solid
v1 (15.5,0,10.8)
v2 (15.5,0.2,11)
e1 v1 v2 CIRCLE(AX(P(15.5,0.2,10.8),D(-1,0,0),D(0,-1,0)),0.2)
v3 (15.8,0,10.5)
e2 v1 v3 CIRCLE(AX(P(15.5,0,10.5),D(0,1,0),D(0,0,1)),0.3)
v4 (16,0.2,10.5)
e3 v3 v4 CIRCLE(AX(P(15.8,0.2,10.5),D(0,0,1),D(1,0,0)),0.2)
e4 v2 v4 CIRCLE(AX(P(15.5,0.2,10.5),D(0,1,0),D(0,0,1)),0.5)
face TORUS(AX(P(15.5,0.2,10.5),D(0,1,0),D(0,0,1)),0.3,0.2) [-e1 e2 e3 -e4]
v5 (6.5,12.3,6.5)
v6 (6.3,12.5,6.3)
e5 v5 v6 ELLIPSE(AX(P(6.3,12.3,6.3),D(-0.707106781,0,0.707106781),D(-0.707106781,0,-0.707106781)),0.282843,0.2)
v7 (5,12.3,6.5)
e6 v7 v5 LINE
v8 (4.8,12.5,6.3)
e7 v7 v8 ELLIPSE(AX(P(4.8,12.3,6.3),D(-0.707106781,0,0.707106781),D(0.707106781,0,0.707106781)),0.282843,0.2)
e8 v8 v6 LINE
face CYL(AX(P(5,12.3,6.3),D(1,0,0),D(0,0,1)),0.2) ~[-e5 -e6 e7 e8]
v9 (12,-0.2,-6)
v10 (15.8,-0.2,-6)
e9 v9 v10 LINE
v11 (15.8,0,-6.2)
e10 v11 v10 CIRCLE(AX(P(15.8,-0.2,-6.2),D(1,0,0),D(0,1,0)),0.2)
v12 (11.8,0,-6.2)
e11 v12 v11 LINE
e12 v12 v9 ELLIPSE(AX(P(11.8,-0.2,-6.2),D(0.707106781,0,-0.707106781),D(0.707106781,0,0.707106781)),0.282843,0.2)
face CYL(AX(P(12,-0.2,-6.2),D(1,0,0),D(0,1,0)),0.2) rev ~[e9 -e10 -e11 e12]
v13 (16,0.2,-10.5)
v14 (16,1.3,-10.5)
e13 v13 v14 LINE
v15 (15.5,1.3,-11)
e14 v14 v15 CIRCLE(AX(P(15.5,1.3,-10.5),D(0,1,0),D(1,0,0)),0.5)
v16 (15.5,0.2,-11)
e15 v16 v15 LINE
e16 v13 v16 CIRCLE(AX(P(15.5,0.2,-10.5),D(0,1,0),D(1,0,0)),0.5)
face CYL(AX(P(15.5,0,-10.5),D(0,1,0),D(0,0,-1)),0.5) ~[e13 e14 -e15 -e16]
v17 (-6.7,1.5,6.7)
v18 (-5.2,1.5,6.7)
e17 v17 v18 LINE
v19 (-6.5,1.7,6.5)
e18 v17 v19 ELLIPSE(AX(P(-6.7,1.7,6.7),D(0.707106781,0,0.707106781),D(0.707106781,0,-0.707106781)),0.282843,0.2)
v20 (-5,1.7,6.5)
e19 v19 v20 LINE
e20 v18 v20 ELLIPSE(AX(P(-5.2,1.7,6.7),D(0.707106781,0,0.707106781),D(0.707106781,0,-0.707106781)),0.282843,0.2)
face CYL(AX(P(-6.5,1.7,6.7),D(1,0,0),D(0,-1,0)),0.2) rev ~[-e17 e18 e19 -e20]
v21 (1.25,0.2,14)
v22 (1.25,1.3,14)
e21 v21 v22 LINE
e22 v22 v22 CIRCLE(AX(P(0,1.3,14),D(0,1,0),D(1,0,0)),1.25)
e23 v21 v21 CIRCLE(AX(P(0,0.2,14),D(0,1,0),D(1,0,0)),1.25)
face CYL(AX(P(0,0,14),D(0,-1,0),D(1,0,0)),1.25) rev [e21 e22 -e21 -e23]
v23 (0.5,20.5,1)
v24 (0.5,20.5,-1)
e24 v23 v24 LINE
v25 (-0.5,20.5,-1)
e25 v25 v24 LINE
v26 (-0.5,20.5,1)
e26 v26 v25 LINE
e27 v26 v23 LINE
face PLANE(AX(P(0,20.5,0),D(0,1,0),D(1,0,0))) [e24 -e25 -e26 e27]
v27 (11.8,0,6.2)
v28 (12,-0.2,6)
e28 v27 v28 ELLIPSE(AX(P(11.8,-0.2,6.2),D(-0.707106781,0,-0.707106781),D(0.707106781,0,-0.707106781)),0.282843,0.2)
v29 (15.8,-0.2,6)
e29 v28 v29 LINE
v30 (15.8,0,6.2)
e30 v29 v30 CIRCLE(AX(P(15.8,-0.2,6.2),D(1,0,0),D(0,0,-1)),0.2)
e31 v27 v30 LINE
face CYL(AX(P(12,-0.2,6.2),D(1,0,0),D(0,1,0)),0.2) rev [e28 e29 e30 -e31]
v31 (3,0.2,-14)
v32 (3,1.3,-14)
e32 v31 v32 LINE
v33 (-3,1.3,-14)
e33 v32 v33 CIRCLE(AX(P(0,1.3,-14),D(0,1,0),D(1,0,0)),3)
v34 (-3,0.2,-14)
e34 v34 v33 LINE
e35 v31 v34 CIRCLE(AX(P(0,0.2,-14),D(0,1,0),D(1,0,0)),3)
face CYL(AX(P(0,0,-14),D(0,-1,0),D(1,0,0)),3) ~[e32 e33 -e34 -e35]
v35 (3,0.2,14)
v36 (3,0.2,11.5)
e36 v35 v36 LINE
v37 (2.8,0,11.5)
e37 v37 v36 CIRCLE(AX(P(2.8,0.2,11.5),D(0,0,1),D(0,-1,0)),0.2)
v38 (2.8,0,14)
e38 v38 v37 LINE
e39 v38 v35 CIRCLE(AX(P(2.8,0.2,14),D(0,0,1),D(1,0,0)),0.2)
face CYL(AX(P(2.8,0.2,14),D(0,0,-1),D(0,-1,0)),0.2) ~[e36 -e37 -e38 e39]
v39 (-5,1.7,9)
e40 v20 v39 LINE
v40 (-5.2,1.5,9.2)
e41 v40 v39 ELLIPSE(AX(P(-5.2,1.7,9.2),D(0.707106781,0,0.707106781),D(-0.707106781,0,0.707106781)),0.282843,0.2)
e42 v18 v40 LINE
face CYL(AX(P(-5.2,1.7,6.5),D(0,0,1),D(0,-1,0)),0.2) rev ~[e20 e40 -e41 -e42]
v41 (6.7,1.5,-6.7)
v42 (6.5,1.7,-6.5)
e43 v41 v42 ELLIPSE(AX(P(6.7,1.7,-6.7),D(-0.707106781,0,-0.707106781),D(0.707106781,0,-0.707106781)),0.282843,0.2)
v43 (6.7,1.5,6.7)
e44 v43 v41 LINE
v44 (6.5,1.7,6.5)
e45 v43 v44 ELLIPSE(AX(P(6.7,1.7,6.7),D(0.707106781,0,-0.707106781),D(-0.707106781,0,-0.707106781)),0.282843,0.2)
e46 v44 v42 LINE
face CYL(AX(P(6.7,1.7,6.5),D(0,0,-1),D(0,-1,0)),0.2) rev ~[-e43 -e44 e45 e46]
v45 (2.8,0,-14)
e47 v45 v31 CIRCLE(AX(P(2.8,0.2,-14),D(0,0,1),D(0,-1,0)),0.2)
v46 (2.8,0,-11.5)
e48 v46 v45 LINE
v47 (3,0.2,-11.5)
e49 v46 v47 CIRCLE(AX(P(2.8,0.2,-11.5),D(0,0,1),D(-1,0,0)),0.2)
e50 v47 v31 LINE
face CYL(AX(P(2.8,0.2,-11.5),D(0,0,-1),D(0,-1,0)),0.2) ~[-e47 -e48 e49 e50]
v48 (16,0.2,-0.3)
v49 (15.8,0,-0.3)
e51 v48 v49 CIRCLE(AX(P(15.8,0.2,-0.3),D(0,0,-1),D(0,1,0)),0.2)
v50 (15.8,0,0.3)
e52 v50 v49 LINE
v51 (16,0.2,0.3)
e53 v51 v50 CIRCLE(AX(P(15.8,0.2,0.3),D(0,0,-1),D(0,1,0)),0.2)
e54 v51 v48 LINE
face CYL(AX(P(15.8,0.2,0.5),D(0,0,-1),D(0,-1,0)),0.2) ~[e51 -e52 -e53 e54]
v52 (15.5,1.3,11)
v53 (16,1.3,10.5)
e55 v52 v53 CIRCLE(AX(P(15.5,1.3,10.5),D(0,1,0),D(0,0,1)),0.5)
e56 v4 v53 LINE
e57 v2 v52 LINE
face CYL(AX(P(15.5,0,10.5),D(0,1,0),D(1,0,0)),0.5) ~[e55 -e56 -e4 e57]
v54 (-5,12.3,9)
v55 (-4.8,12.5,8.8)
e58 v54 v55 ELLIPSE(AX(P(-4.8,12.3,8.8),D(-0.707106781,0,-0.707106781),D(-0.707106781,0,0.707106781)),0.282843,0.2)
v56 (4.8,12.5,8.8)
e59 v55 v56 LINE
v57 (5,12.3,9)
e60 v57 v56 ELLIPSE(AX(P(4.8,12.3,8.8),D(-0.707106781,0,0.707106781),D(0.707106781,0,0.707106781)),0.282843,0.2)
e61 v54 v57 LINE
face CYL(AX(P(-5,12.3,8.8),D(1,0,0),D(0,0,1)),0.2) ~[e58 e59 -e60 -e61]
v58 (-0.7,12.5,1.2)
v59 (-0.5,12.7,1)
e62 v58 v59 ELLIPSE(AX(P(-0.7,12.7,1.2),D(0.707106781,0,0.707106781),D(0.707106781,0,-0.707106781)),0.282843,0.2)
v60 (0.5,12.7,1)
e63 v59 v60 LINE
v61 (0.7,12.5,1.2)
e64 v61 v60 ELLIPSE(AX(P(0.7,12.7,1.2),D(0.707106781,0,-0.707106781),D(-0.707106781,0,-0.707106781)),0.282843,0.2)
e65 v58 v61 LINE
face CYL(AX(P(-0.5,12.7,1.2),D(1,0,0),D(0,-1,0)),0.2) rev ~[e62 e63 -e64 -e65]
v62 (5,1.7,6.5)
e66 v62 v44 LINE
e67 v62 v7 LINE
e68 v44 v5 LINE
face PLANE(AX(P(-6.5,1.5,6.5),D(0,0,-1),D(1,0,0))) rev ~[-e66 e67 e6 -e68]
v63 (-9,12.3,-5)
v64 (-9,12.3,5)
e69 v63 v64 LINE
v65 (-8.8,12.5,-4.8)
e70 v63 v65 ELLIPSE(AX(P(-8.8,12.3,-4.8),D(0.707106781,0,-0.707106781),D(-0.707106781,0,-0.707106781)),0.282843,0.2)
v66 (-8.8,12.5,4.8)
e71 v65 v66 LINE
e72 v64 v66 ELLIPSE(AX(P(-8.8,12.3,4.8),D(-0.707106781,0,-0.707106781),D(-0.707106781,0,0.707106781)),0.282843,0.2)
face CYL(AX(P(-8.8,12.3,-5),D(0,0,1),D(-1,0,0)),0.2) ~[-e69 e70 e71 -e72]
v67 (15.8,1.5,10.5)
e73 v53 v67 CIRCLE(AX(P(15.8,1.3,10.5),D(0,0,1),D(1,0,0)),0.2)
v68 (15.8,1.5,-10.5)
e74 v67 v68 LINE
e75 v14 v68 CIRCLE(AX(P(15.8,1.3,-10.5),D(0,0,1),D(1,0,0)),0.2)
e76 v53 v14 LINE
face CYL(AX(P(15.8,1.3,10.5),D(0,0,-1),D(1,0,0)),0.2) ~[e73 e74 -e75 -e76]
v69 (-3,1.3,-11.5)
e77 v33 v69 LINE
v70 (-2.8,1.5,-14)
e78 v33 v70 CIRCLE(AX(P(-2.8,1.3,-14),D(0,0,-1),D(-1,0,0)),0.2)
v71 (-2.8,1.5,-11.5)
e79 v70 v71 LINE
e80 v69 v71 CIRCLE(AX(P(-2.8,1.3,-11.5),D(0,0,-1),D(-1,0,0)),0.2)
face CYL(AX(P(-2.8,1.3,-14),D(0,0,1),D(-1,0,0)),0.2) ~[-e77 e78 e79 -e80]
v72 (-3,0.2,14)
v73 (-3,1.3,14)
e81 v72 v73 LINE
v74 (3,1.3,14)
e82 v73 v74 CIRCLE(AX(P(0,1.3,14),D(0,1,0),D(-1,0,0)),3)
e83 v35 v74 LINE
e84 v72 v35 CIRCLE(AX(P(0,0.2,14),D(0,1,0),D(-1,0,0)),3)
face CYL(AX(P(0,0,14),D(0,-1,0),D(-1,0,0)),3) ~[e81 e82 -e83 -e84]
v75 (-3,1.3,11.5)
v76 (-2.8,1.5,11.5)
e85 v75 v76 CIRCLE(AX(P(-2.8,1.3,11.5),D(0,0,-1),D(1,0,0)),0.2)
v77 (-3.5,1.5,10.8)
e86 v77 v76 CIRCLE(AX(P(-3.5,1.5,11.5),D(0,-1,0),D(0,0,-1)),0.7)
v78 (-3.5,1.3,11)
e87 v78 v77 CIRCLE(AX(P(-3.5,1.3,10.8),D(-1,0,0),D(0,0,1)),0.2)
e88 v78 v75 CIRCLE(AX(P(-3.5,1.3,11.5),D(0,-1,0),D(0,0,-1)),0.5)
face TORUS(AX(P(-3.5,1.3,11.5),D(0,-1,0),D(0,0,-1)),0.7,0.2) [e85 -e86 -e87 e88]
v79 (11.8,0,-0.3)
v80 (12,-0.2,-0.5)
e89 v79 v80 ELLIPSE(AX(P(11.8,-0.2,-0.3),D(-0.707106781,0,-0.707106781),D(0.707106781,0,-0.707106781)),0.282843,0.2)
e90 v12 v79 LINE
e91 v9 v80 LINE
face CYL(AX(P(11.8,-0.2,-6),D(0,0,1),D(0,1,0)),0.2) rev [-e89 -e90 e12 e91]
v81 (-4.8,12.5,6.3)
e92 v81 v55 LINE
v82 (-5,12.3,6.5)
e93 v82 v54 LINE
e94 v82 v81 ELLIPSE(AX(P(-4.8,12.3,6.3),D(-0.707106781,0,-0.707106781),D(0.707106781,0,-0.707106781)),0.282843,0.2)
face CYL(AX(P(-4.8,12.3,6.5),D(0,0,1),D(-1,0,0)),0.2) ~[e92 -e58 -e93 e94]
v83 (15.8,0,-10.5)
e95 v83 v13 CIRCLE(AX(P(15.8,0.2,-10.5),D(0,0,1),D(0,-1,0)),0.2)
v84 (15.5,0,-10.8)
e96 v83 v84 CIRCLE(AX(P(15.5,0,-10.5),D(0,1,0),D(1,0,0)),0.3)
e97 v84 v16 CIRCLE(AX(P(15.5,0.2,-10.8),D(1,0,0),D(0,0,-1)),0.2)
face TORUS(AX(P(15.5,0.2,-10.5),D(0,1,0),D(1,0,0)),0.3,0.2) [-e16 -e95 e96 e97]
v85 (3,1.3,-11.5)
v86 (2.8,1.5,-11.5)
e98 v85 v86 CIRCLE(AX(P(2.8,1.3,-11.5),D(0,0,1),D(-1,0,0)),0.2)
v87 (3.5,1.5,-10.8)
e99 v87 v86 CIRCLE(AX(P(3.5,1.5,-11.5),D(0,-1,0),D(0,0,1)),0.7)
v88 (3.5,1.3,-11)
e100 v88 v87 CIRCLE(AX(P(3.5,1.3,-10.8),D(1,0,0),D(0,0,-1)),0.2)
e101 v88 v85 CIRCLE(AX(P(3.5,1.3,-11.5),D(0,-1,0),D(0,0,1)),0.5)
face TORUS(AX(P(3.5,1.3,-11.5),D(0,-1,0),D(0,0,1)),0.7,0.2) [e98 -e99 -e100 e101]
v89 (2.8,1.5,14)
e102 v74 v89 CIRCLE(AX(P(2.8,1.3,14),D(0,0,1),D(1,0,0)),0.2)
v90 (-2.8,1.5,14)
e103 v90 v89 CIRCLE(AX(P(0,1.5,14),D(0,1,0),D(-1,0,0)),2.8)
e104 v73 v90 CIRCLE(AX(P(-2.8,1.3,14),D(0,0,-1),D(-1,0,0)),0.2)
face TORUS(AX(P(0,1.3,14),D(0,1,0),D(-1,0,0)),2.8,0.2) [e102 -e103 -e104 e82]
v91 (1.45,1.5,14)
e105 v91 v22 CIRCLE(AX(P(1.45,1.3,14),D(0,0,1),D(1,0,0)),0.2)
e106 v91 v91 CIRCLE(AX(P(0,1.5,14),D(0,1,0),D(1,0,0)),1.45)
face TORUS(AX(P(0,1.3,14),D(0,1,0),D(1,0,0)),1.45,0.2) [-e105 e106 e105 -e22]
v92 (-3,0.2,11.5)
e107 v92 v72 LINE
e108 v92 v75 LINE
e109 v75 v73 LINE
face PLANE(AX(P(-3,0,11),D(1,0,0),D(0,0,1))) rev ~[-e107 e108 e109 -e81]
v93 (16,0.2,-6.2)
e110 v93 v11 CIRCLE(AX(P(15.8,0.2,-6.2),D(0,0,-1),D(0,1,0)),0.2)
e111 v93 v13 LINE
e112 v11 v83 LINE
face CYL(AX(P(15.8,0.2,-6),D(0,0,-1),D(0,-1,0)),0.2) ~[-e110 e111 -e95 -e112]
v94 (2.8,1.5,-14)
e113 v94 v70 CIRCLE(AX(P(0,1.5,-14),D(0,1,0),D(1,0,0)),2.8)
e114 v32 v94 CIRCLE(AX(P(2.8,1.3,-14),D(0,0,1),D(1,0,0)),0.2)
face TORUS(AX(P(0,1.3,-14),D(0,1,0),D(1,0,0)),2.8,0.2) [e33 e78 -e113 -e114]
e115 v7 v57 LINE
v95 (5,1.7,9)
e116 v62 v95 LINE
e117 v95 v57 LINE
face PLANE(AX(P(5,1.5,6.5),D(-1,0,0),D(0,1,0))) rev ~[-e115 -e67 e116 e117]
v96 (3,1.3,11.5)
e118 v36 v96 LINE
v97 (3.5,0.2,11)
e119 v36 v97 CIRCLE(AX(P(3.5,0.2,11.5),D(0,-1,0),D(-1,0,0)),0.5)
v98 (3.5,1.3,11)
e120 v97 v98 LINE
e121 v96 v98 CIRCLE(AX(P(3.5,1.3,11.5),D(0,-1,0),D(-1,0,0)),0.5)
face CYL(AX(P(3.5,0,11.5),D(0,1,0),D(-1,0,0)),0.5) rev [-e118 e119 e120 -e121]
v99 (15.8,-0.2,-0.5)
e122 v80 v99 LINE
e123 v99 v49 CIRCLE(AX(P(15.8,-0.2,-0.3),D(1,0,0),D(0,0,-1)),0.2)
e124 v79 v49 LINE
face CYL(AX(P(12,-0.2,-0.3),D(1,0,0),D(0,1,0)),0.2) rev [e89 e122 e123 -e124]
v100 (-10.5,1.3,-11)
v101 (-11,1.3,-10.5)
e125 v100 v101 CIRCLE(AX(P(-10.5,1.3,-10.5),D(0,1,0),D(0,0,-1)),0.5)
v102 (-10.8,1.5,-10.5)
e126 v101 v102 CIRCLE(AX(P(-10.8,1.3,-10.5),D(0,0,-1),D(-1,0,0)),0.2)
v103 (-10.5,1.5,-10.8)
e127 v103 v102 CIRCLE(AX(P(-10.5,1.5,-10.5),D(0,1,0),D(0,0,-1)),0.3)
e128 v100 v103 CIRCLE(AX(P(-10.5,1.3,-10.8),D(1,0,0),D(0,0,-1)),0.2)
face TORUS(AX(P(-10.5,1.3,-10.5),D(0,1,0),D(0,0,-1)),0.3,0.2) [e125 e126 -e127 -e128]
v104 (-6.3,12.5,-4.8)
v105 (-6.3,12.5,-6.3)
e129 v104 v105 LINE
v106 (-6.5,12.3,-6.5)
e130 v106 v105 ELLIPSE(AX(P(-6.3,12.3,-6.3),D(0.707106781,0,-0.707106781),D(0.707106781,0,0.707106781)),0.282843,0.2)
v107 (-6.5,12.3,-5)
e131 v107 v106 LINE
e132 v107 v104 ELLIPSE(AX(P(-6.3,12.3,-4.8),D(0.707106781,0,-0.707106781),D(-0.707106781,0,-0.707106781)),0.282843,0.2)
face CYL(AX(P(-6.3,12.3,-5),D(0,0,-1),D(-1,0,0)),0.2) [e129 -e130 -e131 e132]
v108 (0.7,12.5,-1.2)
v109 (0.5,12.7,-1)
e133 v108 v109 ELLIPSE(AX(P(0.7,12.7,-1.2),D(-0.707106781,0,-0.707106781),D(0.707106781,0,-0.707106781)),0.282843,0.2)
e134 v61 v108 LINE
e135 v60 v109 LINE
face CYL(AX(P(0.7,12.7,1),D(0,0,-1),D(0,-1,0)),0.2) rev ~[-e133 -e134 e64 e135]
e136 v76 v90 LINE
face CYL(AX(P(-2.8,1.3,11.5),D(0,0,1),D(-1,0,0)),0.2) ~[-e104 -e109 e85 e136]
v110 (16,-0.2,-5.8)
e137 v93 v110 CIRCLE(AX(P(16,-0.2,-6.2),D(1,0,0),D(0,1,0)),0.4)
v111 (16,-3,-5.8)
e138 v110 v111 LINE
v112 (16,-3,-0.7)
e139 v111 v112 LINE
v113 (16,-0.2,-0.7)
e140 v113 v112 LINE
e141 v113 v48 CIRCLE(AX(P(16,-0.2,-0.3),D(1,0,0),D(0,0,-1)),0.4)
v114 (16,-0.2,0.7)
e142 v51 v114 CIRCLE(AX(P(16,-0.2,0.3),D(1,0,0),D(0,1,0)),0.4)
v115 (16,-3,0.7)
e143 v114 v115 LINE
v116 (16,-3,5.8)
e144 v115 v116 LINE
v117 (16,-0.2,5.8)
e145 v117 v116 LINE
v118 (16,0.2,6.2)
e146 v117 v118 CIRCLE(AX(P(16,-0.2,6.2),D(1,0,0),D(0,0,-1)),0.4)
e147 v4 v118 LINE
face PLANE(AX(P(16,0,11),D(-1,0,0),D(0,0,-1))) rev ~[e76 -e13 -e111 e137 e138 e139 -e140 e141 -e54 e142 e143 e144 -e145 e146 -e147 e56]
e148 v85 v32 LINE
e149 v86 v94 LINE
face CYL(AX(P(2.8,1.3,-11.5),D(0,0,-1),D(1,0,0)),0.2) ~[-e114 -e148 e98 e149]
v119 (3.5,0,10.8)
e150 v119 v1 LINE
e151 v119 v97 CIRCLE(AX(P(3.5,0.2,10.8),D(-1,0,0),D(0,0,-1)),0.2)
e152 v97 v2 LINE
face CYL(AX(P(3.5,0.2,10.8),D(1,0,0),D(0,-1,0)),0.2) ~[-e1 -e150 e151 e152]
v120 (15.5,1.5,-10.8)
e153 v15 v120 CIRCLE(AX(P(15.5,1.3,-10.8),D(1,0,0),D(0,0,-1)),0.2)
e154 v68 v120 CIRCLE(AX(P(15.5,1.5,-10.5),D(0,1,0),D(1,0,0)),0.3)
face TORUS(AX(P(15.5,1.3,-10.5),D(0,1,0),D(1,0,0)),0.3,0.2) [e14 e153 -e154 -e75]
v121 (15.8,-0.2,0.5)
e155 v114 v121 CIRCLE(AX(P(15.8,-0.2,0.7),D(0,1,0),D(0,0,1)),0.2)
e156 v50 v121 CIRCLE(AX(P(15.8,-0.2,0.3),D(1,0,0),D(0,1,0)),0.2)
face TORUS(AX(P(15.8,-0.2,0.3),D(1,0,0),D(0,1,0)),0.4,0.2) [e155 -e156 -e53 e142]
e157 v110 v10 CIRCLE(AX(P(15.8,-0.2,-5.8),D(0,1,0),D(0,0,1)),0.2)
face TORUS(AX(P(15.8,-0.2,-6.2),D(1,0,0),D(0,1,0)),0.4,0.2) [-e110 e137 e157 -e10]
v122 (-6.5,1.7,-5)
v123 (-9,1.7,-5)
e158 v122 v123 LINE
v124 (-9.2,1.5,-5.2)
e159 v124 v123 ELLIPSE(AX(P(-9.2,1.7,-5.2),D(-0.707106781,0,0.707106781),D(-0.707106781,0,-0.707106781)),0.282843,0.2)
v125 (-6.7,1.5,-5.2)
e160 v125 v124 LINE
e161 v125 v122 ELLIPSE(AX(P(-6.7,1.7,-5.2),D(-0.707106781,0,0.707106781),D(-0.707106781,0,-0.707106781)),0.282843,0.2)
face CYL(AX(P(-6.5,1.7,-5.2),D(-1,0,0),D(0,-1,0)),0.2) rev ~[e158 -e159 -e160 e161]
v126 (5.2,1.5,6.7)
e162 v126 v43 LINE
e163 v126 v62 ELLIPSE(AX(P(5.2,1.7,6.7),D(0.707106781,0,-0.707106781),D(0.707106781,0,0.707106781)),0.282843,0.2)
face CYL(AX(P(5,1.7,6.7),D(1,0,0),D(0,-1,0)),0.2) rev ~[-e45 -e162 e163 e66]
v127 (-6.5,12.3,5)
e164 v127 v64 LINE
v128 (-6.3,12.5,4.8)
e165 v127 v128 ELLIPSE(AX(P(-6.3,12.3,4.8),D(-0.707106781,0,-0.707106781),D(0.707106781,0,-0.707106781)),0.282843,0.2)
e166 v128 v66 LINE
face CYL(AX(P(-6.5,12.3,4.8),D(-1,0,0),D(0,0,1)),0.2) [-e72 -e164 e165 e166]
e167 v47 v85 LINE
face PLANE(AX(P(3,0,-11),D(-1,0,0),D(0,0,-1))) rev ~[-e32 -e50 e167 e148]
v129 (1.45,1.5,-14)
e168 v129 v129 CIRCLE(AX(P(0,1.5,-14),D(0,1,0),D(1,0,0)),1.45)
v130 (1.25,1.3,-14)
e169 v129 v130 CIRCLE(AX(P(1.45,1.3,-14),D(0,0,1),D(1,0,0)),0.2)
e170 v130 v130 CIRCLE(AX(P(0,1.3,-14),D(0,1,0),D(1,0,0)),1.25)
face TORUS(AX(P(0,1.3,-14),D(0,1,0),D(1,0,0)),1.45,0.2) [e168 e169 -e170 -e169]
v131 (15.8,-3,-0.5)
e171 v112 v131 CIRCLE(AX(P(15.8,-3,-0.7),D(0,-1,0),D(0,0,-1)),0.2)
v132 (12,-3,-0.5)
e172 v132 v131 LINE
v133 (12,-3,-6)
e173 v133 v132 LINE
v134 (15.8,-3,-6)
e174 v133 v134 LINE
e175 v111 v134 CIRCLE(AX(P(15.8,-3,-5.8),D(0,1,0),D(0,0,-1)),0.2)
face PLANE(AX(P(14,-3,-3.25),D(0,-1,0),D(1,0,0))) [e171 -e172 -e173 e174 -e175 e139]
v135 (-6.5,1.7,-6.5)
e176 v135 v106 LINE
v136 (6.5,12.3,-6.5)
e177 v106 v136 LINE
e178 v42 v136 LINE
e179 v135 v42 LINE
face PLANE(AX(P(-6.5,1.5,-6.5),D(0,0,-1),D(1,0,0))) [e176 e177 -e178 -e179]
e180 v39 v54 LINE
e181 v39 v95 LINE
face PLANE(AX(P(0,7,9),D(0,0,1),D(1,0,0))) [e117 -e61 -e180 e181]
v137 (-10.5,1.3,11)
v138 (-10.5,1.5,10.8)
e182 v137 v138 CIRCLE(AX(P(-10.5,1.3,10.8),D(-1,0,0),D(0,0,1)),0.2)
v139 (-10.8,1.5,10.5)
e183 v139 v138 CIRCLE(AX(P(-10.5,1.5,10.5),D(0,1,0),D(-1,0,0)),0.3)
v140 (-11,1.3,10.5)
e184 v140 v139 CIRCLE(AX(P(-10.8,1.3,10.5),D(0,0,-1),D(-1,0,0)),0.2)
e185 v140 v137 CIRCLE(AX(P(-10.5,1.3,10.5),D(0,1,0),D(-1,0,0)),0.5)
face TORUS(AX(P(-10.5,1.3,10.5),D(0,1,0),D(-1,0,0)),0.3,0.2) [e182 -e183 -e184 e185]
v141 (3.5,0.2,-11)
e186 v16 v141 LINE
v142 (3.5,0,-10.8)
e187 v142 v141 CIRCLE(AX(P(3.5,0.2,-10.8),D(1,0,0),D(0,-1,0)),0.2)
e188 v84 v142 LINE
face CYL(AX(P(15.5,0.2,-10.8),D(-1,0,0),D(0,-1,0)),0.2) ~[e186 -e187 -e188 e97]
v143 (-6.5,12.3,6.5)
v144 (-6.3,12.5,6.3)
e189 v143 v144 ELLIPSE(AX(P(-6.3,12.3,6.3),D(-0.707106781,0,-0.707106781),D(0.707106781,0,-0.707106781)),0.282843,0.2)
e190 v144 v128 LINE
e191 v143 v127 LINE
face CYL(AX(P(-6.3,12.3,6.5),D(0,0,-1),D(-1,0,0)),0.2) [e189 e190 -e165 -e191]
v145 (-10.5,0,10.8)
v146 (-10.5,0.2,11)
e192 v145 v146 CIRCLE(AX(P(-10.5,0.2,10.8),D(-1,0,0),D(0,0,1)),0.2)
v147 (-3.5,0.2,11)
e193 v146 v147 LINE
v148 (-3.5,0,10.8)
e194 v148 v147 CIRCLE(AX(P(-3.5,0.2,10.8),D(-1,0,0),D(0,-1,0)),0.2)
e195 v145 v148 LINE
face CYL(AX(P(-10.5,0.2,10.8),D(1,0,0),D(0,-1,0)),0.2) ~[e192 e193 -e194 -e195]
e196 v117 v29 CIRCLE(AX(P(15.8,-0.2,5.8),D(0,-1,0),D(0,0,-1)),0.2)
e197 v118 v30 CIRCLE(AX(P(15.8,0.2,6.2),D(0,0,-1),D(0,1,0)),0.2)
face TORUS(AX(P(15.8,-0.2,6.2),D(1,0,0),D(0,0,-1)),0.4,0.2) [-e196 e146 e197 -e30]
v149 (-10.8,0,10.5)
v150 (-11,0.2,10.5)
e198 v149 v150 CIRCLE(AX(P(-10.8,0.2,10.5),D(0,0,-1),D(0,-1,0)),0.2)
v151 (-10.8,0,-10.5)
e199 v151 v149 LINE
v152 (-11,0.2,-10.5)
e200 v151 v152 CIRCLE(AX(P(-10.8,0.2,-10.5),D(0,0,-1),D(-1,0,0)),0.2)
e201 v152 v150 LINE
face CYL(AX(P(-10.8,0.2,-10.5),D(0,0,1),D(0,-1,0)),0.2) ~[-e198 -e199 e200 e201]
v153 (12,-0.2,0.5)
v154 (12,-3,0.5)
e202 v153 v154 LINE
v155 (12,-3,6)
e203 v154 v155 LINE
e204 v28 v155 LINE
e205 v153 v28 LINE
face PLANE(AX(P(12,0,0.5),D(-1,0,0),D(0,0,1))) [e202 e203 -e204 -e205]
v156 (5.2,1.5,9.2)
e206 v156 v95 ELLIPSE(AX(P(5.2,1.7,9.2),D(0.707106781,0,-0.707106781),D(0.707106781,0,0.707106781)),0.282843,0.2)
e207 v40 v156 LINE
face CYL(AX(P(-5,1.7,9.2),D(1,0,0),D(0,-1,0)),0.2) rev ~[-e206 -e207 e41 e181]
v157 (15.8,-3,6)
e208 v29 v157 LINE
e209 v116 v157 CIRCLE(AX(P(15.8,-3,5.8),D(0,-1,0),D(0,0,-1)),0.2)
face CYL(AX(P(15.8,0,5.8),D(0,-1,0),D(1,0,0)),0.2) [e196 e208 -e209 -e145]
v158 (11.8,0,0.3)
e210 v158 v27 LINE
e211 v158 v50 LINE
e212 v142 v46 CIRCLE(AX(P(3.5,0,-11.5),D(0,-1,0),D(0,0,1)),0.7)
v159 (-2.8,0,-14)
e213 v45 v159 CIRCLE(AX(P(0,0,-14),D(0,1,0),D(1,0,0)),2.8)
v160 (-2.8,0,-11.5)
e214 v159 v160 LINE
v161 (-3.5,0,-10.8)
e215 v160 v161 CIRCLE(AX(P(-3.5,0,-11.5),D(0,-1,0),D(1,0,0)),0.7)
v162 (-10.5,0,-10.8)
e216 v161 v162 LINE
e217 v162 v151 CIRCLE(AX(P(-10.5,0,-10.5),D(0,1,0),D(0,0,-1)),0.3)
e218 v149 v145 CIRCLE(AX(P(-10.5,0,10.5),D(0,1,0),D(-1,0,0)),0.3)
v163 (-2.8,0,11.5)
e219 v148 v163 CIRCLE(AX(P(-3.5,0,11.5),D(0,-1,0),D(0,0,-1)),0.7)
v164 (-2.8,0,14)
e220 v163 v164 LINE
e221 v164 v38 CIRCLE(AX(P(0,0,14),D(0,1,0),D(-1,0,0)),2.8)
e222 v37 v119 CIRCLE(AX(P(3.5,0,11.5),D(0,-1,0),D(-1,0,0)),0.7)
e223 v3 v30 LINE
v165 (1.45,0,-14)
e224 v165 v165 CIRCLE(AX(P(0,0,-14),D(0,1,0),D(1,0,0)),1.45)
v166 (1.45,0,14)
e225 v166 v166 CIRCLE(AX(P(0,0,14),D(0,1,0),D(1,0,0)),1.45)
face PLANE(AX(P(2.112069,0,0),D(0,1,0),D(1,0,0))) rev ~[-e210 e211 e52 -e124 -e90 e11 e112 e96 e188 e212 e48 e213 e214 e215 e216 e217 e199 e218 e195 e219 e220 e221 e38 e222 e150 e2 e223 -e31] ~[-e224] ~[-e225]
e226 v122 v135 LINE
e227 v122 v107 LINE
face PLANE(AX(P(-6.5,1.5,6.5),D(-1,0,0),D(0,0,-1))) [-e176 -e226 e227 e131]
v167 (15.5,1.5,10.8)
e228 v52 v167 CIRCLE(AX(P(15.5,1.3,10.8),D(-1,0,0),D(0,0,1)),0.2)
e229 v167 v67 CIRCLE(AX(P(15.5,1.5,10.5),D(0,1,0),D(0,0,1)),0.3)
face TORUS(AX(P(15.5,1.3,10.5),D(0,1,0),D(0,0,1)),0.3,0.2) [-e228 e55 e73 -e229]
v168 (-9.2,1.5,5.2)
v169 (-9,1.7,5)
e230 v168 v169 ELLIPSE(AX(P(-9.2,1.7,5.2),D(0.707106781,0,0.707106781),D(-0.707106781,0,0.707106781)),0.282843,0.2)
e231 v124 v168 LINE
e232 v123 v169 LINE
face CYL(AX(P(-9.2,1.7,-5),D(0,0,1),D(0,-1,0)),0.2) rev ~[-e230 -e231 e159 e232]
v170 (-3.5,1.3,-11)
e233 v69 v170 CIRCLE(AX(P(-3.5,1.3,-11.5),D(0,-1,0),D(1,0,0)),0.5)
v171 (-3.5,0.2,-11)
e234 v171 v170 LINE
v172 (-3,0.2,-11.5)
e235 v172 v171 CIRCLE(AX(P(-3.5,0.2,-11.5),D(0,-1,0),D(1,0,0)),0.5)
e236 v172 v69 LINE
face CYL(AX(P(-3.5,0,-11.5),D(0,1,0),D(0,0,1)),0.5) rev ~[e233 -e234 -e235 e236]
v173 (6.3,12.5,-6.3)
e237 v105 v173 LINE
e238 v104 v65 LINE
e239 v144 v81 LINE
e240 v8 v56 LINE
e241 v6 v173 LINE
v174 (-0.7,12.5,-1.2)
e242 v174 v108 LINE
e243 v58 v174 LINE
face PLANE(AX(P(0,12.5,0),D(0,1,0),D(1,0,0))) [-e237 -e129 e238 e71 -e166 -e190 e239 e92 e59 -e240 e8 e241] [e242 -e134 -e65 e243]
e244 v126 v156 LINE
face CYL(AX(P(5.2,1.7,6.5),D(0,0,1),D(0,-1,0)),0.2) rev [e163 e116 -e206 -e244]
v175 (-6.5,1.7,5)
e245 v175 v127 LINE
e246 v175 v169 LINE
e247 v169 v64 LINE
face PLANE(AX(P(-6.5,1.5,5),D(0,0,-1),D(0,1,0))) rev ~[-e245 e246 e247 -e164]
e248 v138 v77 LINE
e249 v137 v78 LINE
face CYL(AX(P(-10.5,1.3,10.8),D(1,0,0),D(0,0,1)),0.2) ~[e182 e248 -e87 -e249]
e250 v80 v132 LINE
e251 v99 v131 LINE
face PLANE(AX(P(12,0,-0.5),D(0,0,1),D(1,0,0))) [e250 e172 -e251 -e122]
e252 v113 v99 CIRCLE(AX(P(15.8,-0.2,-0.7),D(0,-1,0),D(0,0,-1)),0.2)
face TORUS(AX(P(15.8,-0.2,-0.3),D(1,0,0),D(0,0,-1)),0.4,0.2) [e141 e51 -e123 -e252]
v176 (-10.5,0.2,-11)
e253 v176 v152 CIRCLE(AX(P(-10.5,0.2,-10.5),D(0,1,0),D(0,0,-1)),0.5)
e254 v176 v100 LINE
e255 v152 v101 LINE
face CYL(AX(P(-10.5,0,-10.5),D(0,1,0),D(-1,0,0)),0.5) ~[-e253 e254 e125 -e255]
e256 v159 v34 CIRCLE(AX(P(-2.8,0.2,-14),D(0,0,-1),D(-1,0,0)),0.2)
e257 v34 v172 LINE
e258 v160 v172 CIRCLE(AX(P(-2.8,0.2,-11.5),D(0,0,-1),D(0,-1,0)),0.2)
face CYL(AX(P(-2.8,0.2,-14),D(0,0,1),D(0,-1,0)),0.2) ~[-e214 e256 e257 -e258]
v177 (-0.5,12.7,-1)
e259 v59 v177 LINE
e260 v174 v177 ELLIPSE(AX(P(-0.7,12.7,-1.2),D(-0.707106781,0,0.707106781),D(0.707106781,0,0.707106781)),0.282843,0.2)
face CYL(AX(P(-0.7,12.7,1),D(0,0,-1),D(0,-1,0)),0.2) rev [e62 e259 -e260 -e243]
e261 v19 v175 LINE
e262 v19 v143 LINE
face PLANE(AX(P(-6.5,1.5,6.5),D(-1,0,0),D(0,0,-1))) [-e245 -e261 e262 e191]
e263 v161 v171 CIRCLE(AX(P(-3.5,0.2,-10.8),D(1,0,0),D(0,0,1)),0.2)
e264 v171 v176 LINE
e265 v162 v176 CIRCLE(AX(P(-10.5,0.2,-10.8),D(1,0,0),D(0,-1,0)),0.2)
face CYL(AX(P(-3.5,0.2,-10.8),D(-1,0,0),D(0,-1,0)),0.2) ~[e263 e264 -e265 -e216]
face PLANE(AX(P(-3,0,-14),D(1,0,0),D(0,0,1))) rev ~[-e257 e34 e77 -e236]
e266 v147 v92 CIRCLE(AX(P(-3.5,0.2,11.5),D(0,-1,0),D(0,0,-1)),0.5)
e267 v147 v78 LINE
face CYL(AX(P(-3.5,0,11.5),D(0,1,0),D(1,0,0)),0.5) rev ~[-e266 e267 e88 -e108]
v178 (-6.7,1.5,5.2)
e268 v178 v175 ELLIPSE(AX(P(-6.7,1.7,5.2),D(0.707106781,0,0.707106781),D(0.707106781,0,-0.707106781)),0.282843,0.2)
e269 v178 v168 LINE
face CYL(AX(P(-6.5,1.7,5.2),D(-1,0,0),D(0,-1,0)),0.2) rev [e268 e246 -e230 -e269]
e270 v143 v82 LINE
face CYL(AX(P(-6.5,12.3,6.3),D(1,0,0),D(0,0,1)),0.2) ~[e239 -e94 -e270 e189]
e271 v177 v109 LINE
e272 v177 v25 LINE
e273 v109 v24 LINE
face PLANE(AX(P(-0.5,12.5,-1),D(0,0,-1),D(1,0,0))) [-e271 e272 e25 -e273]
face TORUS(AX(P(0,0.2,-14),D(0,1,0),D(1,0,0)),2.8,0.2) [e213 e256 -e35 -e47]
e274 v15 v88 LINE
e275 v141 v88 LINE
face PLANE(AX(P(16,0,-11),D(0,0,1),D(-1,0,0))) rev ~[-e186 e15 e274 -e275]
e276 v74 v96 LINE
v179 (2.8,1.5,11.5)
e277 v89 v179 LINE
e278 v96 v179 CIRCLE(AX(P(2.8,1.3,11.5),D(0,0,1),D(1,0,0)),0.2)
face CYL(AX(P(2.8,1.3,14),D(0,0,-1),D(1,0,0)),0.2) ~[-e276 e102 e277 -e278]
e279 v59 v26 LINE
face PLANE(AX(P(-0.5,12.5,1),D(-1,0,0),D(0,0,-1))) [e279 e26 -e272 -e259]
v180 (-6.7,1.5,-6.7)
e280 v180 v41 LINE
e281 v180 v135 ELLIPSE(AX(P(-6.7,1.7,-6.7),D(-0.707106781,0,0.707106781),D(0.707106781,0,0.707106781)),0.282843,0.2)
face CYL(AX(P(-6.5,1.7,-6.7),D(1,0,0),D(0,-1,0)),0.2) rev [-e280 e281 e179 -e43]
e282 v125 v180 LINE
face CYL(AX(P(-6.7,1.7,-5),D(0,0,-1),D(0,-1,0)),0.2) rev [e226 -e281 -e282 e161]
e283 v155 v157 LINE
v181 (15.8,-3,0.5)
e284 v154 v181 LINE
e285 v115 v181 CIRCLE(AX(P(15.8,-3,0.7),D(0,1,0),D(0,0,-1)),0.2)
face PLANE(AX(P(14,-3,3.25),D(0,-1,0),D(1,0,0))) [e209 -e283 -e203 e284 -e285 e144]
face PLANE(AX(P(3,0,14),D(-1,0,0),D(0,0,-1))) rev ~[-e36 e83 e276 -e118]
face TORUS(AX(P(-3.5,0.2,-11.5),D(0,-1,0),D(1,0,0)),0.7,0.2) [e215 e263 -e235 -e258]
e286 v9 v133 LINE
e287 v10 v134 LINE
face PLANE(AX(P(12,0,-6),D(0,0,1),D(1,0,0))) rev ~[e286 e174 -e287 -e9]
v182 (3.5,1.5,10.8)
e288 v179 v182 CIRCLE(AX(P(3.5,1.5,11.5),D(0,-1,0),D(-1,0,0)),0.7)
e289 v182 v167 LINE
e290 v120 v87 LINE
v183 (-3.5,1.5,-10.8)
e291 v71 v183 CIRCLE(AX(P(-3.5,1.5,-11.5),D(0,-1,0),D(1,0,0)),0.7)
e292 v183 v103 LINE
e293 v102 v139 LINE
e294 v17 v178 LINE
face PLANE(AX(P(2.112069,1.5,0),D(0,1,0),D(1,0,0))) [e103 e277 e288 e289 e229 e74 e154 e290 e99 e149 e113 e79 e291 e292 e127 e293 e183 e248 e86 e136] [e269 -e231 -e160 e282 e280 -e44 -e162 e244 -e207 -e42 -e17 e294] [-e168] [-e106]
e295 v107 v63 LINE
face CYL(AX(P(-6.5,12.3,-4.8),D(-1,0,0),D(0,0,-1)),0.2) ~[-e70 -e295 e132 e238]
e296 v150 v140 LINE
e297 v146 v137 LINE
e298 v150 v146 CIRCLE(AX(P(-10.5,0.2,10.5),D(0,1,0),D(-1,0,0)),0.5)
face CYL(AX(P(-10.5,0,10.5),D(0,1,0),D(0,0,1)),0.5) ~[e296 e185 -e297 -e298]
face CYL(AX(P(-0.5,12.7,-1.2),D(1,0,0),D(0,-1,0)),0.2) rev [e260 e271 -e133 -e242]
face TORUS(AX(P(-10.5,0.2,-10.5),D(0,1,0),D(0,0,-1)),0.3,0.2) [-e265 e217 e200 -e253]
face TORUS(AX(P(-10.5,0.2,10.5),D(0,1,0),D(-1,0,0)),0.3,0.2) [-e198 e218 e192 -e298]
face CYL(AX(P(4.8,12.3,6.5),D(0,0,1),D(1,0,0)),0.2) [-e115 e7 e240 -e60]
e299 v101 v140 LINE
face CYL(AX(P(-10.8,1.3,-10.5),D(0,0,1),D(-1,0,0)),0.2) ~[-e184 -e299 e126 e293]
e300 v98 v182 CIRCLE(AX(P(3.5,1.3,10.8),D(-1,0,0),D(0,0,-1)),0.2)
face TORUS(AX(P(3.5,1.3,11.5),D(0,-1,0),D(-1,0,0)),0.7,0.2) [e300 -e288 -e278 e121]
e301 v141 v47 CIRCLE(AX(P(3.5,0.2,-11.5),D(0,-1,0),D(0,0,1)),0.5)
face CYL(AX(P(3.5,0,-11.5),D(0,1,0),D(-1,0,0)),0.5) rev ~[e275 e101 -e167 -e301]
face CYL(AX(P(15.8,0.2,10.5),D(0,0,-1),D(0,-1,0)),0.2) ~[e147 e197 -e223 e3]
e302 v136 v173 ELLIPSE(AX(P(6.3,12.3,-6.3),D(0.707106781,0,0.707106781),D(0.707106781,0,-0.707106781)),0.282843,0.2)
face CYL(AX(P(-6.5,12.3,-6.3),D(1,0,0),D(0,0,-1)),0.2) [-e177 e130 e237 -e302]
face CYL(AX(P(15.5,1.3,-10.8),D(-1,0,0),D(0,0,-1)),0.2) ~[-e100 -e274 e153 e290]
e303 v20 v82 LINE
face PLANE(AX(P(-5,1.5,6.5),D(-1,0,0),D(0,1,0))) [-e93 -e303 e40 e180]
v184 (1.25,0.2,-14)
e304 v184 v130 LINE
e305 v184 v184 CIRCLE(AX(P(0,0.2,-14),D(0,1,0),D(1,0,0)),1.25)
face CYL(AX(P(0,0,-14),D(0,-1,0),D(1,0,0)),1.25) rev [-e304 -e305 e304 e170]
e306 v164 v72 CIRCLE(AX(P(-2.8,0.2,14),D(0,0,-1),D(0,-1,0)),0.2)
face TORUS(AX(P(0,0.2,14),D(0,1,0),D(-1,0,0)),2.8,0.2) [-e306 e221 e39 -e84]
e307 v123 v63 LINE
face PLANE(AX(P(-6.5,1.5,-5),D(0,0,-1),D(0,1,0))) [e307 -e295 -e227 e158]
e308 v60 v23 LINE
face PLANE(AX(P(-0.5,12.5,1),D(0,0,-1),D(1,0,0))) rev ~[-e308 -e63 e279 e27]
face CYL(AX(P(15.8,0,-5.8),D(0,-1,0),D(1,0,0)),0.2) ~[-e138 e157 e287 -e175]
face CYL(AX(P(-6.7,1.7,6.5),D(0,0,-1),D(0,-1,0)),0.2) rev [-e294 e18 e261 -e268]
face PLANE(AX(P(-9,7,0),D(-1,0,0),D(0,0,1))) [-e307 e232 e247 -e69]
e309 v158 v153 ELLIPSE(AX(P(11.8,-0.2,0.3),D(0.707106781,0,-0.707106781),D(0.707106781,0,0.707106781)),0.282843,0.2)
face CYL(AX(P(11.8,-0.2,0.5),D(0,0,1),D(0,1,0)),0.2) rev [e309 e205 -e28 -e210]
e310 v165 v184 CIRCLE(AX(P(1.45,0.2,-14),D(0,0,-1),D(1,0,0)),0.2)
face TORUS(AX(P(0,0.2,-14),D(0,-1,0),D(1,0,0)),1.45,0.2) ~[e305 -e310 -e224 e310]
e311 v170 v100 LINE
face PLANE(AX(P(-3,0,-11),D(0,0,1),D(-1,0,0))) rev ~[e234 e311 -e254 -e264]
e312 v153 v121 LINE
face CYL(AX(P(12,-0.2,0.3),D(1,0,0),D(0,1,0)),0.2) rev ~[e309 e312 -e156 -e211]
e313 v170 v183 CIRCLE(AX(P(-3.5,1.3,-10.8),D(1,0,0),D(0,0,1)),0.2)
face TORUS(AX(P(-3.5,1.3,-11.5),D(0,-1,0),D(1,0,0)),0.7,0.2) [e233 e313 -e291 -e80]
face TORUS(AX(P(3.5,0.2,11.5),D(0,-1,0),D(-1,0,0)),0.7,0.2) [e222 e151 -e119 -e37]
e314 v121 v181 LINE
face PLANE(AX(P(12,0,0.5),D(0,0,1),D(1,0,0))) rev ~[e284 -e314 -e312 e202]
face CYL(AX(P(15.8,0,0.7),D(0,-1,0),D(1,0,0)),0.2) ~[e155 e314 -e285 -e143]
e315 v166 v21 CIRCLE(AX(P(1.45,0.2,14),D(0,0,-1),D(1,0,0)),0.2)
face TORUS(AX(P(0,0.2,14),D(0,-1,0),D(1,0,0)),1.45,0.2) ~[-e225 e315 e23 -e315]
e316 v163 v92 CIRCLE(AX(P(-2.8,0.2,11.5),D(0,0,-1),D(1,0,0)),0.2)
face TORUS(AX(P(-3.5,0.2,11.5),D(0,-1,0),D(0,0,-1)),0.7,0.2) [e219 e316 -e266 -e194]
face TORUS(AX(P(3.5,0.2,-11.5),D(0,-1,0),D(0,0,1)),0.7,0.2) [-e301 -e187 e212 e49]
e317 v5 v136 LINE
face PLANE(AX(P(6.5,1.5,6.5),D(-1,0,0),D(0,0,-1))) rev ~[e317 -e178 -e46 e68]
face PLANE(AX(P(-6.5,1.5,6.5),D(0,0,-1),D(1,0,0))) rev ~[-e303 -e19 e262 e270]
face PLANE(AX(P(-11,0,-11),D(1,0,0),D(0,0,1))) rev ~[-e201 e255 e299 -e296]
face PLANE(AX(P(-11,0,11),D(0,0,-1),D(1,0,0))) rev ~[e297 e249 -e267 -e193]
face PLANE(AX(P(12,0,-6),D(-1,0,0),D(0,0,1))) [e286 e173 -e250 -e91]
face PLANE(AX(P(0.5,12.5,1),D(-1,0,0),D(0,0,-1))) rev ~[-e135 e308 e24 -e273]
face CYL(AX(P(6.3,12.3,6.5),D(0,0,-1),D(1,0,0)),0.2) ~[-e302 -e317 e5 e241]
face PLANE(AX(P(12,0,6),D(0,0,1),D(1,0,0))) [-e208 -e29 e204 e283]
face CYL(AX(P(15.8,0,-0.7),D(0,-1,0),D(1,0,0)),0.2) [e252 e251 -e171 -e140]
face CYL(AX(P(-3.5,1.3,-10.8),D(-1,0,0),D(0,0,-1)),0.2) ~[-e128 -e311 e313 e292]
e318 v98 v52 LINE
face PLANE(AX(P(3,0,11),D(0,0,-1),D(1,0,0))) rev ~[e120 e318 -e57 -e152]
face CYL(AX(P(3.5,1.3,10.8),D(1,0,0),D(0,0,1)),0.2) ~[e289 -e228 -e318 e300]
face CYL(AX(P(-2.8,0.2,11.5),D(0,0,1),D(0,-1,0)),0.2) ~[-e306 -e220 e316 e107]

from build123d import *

# Parameters (mm, degrees)
SKETCH_1_R         = 1.25
PCB_DEPTH          = 1.5
SKETCH_6_W         = 4
SKETCH_6_H         = 5.5
EXTRUDE_2_DEPTH    = 3
SKETCH_3_W         = 13
SKETCH_3_H         = 13
EXTRUDE_2139_DEPTH = 11
SKETCH_7_W         = 10
SKETCH_7_H         = 11
EXTRUDE_3_DEPTH    = 2.5
SKETCH_8_W         = 10
SKETCH_8_H         = 11
EXTRUDE_4_DEPTH    = 2.5
SKETCH_9_W         = 1
SKETCH_9_H         = 2
EXTRUDE_5_DEPTH    = 8
FILLET_1_R         = 0.5
FILLET_2_R         = 0.2


with BuildPart() as part:
    # 草图1 → 凸台-拉伸-PCB板 (new body)
    with BuildSketch(Plane(origin=(0, 0, 0), x_dir=(1, 0, 0), z_dir=(0, 1, 0))):
        with BuildLine():
            Line((-3, -11), (-3, -14))
            ThreePointArc((-3, -14), (0, -17), (3, -14))
            Line((3, -14), (3, -11))
            Line((3, -11), (16, -11))
            Line((16, -11), (16, 11))
            Line((16, 11), (3, 11))
            Line((3, 11), (3, 14))
            ThreePointArc((3, 14), (0, 17), (-3, 14))
            Line((-3, 14), (-3, 11))
            Line((-3, 11), (-11, 11))
            Line((-11, 11), (-11, -11))
            Line((-11, -11), (-3, -11))
        make_face()
        with Locations((0, -14)):
            Circle(SKETCH_1_R, mode=Mode.SUBTRACT)
        with Locations((0, 14)):
            Circle(SKETCH_1_R, mode=Mode.SUBTRACT)
    extrude(amount=PCB_DEPTH)

    # 草图6 → 凸台-拉伸2 (add)
    with BuildSketch(Plane.XZ):
        with Locations((14, 3.25)):
            Rectangle(SKETCH_6_W, SKETCH_6_H)
        with Locations((14, -3.25)):
            Rectangle(SKETCH_6_W, SKETCH_6_H)
    extrude(amount=EXTRUDE_2_DEPTH)

    # 草图3 → Extrude 2139 (add)
    with BuildSketch(Plane(origin=(0, 1.5, 0), x_dir=(1, 0, 0), z_dir=(0, 1, 0))):
        Rectangle(SKETCH_3_W, SKETCH_3_H)
    extrude(amount=EXTRUDE_2139_DEPTH)

    # 草图7 → 凸台-拉伸3 (add)
    with BuildSketch(Plane.XY.offset(6.5)):
        with Locations((0, 7)):
            Rectangle(SKETCH_7_W, SKETCH_7_H)
    extrude(amount=EXTRUDE_3_DEPTH)

    # 草图8 → 凸台-拉伸4 (add)
    with BuildSketch(Plane.ZY.offset(6.5)):
        with Locations((0, 7)):
            Rectangle(SKETCH_8_W, SKETCH_8_H)
    extrude(amount=EXTRUDE_4_DEPTH)

    # 草图9 → 凸台-拉伸5 (add)
    with BuildSketch(Plane(origin=(0, 12.5, 0), x_dir=(1, 0, 0), z_dir=(0, 1, 0))):
        Rectangle(SKETCH_9_W, SKETCH_9_H)
    extrude(amount=EXTRUDE_5_DEPTH)

    # 圆角1
    fillet_1_edges = [part.edges().sort_by_distance(p)[0] for p in [
        (-3, 0.75, 11),
        (-11, 0.75, 11),
        (-11, 0.75, -11),
        (-3, 0.75, -11),
        (3, 0.75, -11),
        (16, 0.75, -11),
        (16, 0.75, 11),
        (3, 0.75, 11),
    ]]
    fillet(fillet_1_edges, radius=FILLET_1_R)

    # 圆角2
    fillet_2_edges = [part.edges().sort_by_distance(p)[0] for p in [
        (-6.5, 12.5, 5.75),
        (-6.5, 1.5, 5.75),
        (-7.75, 1.5, 5),
        (-7.75, 12.5, 5),
        (-7.75, 12.5, -5),
        (-7.75, 1.5, -5),
        (-9, 12.5, 0),
        (-9, 1.5, 0),
        (0, 1.5, 17),
        (0.5, 12.5, 0),
        (0, 12.5, -1),
        (-0.5, 12.5, 0),
        (0, 12.5, 1),
        (-7, 0, -11),
        (-7, 1.5, -11),
        (9.5, 0, -11),
        (9.5, 1.5, -11),
        (-11, 0, 0),
        (-11, 1.5, 0),
        (9.5, 0, 11),
        (-7, 0, 11),
        (16, 0, -8.25),
        (15.853553391, 0, 10.853553391),
        (15.853553391, 0, -10.853553391),
        (-10.853553391, 0, 10.853553391),
        (-10.853553391, 0, -10.853553391),
        (9.5, 1.5, 11),
        (16, 1.5, 0),
        (-7, 1.5, 11),
        (15.853553391, 1.5, 10.853553391),
        (15.853553391, 1.5, -10.853553391),
        (-10.853553391, 1.5, 10.853553391),
        (-10.853553391, 1.5, -10.853553391),
        (-1.25, 0, 14),
        (-1.25, 0, -14),
        (-3.146446609, 0, -11.146446609),
        (-3.146446609, 1.5, -11.146446609),
        (3.146446609, 0, -11.146446609),
        (3.146446609, 1.5, -11.146446609),
        (-3.146446609, 0, 11.146446609),
        (3, 1.5, 12.75),
        (-3.146446609, 1.5, 11.146446609),
        (3.146446609, 0, 11.146446609),
        (3.146446609, 1.5, 11.146446609),
        (-3, 0, -12.75),
        (0, 0, -17),
        (3, 0, -12.75),
        (3, 0, 12.75),
        (0, 0, 17),
        (-3, 0, 12.75),
        (3, 1.5, -12.75),
        (0, 1.5, -17),
        (-3, 1.5, -12.75),
        (16, 0, 8.25),
        (16, -1.5, 0.5),
        (14, 0, 6),
        (16, -1.5, 6),
        (12, 0, 3.25),
        (14, 0, 0.5),
        (16, 0, 0),
        (16, -1.5, -6),
        (14, 0, -0.5),
        (16, -1.5, -0.5),
        (12, 0, -3.25),
        (14, 0, -6),
        (-1.25, 1.5, -14),
        (-3, 1.5, 12.75),
        (-1.25, 1.5, 14),
        (6.5, 1.5, 0),
        (0, 1.5, -6.5),
        (-6.5, 1.5, -5.75),
        (-5.75, 1.5, 6.5),
        (6.5, 12.5, 0),
        (0, 12.5, -6.5),
        (-6.5, 12.5, -5.75),
        (-5.75, 12.5, 6.5),
        (5.75, 12.5, 6.5),
        (5.75, 1.5, 6.5),
        (5, 1.5, 7.75),
        (5, 12.5, 7.75),
        (-5, 12.5, 7.75),
        (-5, 1.5, 7.75),
        (0, 12.5, 9),
        (0, 1.5, 9),
    ]]
    fillet(fillet_2_edges, radius=FILLET_2_R)


solid = part.part
